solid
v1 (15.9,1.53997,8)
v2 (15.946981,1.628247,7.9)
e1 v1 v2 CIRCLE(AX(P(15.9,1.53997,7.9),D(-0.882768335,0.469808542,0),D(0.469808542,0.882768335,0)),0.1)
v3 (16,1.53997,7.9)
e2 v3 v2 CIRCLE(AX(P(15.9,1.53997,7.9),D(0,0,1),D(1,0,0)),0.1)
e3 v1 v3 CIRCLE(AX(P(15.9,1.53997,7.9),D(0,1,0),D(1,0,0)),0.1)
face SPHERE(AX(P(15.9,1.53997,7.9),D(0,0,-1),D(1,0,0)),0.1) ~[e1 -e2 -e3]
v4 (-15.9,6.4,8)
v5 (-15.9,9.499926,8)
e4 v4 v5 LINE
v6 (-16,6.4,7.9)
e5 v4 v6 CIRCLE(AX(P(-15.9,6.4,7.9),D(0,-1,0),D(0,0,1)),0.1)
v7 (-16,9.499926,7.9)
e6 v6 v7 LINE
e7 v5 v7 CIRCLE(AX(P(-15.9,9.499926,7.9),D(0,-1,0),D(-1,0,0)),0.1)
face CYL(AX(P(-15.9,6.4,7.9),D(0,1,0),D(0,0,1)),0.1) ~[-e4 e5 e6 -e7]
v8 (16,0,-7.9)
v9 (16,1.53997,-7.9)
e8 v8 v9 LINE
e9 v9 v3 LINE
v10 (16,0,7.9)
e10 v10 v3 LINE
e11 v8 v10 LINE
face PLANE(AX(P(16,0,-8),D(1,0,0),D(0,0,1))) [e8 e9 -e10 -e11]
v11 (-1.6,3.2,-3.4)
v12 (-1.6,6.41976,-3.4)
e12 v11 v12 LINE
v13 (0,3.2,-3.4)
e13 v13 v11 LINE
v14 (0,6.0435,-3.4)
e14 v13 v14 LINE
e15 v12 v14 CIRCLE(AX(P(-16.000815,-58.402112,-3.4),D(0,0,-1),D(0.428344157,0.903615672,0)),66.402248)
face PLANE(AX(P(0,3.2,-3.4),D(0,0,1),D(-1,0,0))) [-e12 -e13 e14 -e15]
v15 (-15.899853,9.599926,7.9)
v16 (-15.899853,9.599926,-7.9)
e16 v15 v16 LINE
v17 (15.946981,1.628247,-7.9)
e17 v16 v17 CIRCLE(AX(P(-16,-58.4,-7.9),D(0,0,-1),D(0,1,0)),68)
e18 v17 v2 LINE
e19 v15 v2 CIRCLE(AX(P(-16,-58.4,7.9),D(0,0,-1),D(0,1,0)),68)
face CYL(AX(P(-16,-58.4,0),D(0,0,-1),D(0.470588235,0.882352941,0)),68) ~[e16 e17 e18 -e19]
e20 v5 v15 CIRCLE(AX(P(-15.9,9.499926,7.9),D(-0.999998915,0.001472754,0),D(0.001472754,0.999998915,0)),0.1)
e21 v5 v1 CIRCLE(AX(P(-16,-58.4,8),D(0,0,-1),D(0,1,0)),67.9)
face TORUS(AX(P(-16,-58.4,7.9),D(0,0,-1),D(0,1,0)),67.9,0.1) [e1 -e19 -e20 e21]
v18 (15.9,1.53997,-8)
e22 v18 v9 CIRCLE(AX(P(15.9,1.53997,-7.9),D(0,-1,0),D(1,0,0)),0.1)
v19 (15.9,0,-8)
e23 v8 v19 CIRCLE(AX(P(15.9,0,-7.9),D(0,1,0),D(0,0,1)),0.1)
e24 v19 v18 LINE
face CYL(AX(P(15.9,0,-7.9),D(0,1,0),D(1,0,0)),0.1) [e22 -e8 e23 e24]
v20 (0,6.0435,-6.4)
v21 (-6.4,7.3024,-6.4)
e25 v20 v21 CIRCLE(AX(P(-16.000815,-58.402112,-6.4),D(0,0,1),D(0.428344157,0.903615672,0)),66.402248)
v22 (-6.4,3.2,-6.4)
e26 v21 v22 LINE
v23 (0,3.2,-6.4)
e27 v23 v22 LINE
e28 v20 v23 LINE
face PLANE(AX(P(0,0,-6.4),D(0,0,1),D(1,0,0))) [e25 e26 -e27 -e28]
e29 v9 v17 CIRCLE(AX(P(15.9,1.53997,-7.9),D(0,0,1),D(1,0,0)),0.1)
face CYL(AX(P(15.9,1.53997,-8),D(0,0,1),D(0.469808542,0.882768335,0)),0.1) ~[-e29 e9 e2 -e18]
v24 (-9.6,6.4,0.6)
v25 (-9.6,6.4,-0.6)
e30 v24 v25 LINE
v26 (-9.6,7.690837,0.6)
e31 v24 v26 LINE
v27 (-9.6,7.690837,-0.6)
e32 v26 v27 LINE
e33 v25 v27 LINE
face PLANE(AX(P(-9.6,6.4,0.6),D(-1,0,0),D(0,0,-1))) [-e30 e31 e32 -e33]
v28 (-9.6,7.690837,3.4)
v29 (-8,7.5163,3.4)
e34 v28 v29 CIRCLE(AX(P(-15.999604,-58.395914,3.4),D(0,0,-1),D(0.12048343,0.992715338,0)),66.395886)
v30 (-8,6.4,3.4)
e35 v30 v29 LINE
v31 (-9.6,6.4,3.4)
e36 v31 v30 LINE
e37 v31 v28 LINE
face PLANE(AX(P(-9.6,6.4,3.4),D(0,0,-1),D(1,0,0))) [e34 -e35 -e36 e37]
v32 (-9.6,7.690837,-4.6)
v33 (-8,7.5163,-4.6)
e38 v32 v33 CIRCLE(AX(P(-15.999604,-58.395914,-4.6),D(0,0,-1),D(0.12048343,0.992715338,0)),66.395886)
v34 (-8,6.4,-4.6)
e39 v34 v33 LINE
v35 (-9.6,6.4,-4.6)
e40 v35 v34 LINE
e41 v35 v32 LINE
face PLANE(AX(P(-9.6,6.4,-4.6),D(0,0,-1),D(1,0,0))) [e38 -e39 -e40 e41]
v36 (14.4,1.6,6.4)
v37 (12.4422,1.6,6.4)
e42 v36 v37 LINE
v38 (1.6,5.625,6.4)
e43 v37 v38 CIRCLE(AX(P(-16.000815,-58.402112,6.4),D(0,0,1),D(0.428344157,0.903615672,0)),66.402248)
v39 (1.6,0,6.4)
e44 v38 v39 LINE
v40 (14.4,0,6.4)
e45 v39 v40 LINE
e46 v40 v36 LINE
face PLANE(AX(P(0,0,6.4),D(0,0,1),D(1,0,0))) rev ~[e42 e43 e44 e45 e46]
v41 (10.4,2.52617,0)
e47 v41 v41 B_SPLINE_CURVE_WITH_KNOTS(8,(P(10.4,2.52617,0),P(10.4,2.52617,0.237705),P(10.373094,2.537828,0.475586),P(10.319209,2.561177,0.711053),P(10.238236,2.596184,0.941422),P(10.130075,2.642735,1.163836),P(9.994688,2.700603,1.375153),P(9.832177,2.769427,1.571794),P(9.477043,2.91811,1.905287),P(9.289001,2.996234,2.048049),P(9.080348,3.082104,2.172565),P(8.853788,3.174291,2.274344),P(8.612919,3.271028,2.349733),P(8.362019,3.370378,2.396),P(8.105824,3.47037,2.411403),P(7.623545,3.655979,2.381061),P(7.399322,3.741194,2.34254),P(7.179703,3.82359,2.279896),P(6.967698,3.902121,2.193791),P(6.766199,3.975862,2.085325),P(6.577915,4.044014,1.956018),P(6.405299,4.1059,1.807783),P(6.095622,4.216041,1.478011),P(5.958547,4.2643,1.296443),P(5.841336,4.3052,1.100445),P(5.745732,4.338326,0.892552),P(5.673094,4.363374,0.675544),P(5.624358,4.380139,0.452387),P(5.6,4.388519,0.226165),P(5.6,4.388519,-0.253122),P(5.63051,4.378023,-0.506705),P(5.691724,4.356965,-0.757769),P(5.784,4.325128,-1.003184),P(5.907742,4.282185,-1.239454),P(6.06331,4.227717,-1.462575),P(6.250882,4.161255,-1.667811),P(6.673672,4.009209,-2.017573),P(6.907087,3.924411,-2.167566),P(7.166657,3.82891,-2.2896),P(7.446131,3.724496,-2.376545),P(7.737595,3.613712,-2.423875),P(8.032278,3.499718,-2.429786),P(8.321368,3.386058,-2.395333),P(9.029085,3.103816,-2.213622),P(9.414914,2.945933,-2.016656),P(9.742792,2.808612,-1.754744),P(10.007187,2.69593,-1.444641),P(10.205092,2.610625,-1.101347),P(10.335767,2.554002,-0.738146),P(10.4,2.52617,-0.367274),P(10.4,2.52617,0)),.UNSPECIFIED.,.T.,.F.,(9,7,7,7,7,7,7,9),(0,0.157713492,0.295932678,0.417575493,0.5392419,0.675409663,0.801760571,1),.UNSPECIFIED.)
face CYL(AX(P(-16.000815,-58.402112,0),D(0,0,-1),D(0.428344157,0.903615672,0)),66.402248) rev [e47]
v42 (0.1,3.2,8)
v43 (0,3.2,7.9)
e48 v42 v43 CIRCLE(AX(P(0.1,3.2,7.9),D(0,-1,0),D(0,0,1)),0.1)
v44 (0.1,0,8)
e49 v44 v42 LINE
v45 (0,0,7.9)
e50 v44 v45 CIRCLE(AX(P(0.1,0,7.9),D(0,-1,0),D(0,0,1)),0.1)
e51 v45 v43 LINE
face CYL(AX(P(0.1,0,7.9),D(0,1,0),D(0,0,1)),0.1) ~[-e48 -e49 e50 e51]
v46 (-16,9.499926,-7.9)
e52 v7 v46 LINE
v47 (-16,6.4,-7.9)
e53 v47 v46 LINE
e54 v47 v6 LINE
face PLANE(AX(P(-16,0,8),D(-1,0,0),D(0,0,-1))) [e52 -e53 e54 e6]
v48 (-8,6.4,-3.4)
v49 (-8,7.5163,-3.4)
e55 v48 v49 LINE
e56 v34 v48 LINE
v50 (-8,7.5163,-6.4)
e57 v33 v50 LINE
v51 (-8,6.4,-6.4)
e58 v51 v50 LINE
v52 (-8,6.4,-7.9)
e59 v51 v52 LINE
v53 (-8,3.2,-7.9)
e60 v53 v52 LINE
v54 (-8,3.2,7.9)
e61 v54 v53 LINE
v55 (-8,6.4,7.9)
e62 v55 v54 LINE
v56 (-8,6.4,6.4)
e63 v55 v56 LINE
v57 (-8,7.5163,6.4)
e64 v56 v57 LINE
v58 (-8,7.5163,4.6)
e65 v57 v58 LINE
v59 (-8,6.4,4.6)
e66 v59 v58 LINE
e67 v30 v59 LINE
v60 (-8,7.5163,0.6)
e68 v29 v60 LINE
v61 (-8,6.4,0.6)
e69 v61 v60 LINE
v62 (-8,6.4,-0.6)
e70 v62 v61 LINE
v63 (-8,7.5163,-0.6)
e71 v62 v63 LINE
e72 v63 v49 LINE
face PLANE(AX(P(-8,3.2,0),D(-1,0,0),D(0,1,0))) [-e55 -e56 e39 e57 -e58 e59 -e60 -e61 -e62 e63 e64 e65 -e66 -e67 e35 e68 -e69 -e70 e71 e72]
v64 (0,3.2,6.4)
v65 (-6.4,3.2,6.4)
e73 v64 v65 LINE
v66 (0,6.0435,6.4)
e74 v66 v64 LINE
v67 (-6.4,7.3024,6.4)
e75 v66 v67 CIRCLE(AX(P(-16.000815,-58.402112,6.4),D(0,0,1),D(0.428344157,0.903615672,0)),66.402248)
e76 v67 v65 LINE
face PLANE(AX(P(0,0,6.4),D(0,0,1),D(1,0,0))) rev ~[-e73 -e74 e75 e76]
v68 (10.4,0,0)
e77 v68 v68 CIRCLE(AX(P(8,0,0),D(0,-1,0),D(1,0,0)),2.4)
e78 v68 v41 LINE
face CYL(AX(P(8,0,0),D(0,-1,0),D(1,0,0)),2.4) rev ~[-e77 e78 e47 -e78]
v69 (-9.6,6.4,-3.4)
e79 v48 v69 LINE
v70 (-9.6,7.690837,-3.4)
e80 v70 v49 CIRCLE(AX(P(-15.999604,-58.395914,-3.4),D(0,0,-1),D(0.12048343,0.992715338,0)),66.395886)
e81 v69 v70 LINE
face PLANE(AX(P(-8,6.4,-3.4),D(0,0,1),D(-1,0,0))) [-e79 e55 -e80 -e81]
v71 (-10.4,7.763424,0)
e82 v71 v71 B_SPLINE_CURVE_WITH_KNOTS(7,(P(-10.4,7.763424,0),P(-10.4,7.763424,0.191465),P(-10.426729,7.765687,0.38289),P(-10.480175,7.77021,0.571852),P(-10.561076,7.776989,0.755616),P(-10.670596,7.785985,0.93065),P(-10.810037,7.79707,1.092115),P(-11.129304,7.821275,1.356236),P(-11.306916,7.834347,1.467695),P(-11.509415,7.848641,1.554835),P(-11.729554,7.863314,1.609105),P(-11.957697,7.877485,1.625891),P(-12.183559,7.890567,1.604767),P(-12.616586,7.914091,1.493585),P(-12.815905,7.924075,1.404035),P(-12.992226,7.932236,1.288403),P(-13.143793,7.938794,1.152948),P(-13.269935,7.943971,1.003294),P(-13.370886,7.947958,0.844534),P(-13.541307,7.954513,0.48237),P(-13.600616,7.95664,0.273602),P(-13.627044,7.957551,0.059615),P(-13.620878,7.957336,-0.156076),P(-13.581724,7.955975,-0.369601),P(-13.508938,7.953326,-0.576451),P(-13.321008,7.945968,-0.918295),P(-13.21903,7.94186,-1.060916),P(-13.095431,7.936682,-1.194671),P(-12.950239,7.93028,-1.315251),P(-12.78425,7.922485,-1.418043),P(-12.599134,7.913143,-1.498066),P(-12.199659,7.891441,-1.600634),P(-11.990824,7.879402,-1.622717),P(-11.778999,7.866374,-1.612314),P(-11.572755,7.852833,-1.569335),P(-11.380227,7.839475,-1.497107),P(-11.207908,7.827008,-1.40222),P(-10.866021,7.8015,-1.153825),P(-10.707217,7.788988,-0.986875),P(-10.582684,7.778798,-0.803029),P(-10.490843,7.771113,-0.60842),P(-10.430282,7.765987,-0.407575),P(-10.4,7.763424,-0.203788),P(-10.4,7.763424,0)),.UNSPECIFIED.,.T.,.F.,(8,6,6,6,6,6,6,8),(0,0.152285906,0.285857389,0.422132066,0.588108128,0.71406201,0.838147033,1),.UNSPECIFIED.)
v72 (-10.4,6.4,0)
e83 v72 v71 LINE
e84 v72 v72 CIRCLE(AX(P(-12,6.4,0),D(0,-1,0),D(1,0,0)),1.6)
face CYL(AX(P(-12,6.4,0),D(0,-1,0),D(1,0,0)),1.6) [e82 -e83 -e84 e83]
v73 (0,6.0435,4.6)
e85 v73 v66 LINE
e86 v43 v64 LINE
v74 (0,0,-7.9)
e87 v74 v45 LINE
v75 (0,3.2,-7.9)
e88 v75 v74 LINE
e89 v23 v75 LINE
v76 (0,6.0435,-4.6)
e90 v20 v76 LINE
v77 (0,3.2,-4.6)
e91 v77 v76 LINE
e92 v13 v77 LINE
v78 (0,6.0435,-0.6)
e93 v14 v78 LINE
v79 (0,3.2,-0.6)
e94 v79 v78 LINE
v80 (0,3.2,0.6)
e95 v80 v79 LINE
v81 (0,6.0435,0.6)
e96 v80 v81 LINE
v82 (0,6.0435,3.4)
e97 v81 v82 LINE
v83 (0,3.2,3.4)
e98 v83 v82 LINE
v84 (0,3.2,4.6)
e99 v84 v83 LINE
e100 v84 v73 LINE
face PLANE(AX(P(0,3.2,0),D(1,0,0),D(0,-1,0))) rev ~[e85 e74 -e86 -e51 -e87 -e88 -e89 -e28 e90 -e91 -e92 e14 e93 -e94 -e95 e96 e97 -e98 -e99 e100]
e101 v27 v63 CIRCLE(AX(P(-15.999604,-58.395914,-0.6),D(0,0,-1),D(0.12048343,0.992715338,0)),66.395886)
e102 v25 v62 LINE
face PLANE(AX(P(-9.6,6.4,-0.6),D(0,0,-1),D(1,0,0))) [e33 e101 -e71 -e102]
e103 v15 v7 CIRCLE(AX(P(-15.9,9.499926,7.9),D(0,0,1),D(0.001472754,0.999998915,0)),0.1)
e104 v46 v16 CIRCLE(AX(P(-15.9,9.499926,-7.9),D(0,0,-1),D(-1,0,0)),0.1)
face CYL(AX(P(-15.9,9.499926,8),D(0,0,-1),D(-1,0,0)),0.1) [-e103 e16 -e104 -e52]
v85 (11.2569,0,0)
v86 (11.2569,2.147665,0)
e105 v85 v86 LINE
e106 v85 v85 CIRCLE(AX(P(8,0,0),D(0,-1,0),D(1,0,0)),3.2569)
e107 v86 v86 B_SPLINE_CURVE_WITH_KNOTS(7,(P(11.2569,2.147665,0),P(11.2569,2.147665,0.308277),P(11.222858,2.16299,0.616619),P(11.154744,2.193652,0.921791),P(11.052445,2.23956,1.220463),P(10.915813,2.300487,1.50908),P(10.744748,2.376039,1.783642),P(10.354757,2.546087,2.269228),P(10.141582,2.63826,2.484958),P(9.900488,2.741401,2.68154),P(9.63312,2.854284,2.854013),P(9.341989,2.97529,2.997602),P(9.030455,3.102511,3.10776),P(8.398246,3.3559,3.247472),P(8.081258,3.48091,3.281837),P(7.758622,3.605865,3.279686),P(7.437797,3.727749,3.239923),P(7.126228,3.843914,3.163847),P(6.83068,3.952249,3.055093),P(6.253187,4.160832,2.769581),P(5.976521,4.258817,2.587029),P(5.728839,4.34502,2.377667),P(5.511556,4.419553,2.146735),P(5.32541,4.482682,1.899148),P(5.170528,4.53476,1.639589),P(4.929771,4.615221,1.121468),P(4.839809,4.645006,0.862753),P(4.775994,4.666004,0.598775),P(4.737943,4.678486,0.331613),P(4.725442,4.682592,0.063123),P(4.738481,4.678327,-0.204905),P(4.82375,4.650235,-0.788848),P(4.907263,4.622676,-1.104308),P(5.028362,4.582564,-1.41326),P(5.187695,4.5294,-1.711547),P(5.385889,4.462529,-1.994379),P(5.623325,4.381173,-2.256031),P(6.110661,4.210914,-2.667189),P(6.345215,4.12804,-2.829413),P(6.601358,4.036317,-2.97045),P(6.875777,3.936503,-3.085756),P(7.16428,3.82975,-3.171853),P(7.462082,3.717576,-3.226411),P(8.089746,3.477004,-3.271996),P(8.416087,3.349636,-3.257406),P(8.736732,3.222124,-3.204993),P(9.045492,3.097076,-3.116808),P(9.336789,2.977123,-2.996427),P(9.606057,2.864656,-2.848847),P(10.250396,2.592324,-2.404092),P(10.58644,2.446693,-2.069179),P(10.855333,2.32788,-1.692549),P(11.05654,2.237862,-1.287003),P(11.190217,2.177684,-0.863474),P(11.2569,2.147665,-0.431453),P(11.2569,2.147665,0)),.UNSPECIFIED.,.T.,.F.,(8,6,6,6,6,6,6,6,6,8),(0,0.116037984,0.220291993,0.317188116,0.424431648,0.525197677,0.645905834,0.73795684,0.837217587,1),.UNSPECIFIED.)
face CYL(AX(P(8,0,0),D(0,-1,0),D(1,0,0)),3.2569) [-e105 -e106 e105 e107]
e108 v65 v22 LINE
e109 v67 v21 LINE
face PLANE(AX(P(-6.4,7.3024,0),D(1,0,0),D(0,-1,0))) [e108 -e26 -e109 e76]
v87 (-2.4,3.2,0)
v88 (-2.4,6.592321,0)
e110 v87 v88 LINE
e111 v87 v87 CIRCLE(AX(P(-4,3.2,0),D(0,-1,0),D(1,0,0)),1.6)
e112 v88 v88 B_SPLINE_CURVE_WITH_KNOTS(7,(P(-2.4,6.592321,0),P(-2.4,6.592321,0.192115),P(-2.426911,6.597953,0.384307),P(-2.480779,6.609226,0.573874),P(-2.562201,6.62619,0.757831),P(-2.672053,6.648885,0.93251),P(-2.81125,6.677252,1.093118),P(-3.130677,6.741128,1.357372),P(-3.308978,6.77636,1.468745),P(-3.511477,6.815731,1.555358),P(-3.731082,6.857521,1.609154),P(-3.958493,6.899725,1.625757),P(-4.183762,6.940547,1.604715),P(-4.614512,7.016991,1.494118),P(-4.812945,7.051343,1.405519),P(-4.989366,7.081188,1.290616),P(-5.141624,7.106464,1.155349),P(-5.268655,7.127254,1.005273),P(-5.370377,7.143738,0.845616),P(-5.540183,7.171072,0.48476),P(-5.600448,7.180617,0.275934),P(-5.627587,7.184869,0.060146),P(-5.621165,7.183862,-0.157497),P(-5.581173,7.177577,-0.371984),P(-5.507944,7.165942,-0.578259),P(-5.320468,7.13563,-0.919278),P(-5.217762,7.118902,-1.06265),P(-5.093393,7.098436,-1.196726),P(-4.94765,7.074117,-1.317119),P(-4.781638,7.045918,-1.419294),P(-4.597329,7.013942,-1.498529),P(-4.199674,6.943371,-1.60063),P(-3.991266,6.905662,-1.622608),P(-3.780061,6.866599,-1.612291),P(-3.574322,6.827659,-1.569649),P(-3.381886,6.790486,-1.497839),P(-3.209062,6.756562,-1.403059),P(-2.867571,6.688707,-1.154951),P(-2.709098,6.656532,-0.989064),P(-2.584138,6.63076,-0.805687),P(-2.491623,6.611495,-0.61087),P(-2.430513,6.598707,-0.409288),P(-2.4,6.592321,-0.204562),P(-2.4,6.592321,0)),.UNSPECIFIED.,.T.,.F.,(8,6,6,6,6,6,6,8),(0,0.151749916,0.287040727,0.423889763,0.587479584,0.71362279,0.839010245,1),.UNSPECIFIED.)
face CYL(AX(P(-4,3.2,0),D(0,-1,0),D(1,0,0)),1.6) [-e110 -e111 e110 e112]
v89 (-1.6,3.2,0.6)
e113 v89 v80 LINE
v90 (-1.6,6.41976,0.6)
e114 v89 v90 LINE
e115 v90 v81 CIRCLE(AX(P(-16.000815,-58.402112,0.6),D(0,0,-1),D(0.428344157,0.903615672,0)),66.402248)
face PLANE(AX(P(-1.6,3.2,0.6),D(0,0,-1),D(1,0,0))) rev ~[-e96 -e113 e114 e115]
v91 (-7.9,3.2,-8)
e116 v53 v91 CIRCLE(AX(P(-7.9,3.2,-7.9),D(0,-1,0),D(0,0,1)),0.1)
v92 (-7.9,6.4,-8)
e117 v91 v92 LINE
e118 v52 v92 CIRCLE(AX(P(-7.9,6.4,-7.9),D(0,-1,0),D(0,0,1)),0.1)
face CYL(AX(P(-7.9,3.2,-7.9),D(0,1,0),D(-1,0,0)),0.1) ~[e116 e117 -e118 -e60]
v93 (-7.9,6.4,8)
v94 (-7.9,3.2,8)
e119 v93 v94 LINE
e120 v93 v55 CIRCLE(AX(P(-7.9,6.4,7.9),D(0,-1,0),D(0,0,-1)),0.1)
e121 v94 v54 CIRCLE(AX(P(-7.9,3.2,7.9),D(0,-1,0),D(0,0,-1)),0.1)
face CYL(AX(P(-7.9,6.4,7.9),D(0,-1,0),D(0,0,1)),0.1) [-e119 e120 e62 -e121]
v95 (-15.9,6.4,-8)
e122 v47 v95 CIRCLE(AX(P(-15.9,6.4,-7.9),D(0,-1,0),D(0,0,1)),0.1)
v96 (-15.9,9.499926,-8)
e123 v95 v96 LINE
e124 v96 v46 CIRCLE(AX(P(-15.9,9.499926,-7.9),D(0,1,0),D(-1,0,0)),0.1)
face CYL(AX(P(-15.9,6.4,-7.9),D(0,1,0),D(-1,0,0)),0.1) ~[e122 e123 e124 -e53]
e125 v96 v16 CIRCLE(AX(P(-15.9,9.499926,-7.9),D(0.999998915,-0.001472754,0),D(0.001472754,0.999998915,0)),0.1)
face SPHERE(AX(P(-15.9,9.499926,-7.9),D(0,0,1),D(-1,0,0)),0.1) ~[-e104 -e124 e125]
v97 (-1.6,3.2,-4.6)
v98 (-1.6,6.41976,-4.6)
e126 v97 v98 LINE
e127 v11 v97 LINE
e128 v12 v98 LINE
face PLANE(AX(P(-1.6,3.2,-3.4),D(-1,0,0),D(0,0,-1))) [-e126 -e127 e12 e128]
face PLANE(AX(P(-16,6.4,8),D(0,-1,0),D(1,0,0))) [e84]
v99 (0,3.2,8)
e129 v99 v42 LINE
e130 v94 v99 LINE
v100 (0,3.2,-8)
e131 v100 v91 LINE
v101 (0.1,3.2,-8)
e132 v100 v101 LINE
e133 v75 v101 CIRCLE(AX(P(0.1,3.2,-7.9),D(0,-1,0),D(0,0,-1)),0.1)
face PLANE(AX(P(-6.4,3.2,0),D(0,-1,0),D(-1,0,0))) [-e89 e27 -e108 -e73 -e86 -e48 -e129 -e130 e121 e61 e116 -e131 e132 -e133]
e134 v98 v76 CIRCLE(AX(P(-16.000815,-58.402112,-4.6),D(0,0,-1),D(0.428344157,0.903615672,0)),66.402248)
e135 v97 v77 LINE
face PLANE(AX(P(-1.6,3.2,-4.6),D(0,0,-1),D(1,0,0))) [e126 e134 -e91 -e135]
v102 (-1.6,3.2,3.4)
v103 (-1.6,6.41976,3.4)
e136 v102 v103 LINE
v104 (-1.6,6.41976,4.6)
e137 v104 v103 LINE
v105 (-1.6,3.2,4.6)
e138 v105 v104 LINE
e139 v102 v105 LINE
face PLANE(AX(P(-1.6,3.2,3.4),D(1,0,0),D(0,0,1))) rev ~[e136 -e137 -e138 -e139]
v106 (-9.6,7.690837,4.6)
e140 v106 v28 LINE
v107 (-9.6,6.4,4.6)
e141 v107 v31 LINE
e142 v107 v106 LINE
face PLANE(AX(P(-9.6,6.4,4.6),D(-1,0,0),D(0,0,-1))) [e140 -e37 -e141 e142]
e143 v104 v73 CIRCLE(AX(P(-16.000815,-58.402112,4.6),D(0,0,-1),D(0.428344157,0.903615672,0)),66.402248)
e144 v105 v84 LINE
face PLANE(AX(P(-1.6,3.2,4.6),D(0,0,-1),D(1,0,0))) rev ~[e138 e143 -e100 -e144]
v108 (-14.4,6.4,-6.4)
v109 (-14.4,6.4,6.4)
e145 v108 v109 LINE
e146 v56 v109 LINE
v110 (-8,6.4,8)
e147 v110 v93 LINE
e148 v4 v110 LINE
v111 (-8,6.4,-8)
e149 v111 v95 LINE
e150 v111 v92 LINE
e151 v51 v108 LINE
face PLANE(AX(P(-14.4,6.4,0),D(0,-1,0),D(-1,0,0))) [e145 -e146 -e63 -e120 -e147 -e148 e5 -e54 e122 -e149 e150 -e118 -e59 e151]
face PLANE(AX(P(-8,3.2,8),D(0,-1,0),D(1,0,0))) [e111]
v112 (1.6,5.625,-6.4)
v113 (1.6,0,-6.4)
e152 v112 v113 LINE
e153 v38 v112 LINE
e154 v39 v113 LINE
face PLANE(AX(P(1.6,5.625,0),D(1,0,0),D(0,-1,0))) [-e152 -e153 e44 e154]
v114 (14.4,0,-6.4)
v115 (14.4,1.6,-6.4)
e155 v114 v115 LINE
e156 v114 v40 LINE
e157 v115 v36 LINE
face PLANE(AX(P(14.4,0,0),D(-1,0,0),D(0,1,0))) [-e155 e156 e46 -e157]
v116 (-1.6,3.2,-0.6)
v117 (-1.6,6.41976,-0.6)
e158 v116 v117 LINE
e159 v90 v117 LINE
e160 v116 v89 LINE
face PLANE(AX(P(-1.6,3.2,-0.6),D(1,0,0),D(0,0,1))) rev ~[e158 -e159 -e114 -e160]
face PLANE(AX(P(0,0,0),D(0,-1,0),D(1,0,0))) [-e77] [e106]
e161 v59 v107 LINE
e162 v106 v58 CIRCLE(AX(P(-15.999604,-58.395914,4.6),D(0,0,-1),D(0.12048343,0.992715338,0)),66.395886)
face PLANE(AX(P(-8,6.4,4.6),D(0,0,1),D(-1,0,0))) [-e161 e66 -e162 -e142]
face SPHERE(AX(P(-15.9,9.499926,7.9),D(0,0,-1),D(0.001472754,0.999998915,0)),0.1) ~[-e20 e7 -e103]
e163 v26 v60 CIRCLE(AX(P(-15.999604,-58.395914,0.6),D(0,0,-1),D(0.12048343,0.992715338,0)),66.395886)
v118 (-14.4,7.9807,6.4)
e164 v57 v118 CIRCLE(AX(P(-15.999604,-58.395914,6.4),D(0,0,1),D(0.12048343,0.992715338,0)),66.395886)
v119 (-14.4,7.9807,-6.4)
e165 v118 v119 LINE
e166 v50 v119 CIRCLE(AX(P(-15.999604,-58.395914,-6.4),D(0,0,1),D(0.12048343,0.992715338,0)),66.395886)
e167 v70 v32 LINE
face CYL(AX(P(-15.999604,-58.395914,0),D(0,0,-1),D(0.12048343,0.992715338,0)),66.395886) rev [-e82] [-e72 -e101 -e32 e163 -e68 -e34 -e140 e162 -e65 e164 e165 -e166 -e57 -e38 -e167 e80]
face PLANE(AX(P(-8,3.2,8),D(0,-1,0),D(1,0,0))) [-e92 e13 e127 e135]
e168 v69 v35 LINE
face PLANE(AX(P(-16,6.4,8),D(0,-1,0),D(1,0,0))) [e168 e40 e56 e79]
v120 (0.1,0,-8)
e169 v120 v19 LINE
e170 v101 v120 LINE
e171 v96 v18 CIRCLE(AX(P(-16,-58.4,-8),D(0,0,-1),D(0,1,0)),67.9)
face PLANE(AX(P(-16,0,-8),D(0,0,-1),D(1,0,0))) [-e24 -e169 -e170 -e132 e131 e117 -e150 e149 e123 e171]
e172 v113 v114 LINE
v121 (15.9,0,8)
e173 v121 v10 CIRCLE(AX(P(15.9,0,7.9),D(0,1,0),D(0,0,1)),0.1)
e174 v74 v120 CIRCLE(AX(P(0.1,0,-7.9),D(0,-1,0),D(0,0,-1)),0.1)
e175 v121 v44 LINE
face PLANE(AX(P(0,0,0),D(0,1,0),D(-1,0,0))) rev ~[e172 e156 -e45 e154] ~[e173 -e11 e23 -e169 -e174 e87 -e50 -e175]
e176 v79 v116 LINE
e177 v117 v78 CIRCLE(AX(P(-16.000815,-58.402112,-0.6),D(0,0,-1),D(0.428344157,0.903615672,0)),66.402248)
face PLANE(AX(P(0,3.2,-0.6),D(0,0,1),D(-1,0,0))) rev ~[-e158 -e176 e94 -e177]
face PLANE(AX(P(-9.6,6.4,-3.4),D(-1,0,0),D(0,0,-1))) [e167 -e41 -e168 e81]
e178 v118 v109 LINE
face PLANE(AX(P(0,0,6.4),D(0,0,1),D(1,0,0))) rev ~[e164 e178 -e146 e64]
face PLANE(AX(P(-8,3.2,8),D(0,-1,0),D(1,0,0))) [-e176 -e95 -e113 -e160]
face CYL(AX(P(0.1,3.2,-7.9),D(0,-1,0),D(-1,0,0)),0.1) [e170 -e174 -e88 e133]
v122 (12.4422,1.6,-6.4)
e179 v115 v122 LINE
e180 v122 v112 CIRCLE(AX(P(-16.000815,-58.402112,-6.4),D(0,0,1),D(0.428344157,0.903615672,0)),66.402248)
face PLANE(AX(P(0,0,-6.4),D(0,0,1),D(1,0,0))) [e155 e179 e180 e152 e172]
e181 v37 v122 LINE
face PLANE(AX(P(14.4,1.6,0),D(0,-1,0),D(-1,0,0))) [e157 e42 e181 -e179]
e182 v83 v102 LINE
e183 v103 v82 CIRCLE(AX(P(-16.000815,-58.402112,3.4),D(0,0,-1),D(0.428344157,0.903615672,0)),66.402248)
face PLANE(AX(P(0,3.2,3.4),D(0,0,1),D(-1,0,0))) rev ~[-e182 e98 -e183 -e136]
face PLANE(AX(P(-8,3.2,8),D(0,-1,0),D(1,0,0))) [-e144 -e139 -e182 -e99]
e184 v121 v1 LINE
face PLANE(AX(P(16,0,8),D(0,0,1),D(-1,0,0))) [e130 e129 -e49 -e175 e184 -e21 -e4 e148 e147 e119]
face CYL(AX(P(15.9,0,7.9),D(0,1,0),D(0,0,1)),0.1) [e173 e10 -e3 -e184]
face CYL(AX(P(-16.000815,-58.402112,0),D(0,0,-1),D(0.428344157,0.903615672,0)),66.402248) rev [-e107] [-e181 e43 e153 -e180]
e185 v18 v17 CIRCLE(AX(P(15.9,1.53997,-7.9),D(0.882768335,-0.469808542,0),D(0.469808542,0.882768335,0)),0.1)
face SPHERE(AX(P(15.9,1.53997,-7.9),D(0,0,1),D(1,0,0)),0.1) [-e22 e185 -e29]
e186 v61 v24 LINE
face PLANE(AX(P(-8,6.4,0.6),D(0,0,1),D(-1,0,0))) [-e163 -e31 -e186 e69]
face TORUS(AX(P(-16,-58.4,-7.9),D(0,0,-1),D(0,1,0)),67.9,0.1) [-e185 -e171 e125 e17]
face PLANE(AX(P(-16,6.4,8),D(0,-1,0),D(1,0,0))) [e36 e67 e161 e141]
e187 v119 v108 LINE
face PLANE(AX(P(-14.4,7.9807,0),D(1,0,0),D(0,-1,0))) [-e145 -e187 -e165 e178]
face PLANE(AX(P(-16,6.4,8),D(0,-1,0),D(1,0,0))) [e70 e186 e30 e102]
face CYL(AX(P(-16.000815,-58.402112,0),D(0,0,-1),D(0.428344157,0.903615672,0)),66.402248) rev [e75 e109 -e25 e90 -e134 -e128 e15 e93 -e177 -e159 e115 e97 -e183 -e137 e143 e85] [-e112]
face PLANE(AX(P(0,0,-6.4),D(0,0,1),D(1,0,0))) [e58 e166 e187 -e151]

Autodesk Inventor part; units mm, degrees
ref_plane "YZ Plane" through (0, 0, 0) normal (1, 0, 0) x (0, 1, 0)
ref_plane "XZ Plane" through (0, 0, 0) normal (0, 1, 0) x (-1, 0, 0)
ref_plane "XY Plane" through (0, 0, 0) normal (0, 0, 1) x (1, 0, 0)
sketch "Sketch2" plane through (0, 0, 0) normal (0, 1, 0) x (-1, 0, 0)
  line L0 (-16, 8) -> (16, 8)
  line L1 (16, 8) -> (16, -8)
  line L2 (16, -8) -> (-16, -8)
  line L3 (-16, -8) -> (-16, 8)
  point P0 (0, 0)
  point P1 (0, 8)
  point P2 (-16, 0)
  dimension "d0" = 32
  dimension "d1" = 16
extrude "Extrusion1" add sketch "Sketch2" along normal blind 9.6
sketch "Sketch10" plane through (0, 0, 0) normal (0, 0, 1) x (1, 0, 0)
  line L0 (-16, 9.6) -> (16, 9.6) projected
  line L1 (-16, 0) -> (-16, 9.6) projected
  arc A0 (16, 1.6) -> (-16, 9.6) centre (-16, -58.4) ccw
  line L2 (16, 1.6) -> (16, 9.6)
  line L3 (-16, 0) -> (16, 0) projected
  line L4 (14.4, 0) -> (14.4, 1.6)
  line L5 (14.4, 1.6) -> (12.4422, 1.6)
  line L6 (-8, 3.2) -> (-8, 7.5163)
  line L7 (-6.4, 7.3024) -> (-6.4, 3.2)
  arc A1 (12.4422, 1.6) -> (-6.4, 7.3024) centre (-16, -58.4) ccw
  arc A2 (-8, 7.5163) -> (-14.4, 7.9807) centre (-16, -58.4) ccw
  line L8 (-14.4, 7.9807) -> (-14.4, 6.4)
  line L9 (1.6, 5.625) -> (1.6, 0)
  line L10 (0, 6.0435) -> (0, 0)
  line L11 (0, 3.2) -> (-6.4, 3.2)
  line L12 (-8, 6.4) -> (-14.4, 6.4)
  line L13 (-14.4, 6.4) -> (-16, 6.4)
  line L14 (16, 0) -> (16, 9.6) projected
  line L15 (1.6, 0) -> (14.4, 0)
  line L16 (0, 0) -> (-16, 0)
  line L17 (-16, 0) -> (-16, 6.4)
  line L18 (-6.4, 3.2) -> (-8, 3.2)
  dimension "d100" = 1.6
  dimension "d104" = 1.6
  dimension "d105" = 1.6
  dimension "d107" = 1.6
  dimension "d108" = 1.6
  dimension "d113" = 6.4
  dimension "d114" = 3.2
  dimension "d115" = 16
  dimension "d116" = 1.6
extrude "Extrusion7" cut sketch "Sketch10" along normal through all both and the other way through all contours L0 L2 A0 | L13 L12 L6 L18 L11 L10 L3 L1
extrude "Extrusion8" cut sketch "Sketch10" along normal mid plane 12.8 contours L8 A2 L6 L12 | L3 L9 A1 L5 L4 | L11 L7 A1 L10
sketch "Sketch3" plane through (0, 0, 0) normal (0, -1, 0) x (1, 0, 0)
  circle A0 centre (12, 4) radius 2.4 construction
  line L0 (14.4, -6.4) -> (1.6, -6.4) projected
  line L1 (1.6, -6.4) -> (1.6, 6.4) projected
  line L2 (1.6, 6.4) -> (14.4, 6.4) projected
  line L3 (14.4, 6.4) -> (14.4, -6.4) projected
  circle A1 centre (8, 0) radius 3.2569
  circle A2 centre (8, 0) radius 2.4
  circle A3 centre (12, -4) radius 2.4 construction
  point P0 (8, 6.4)
  point P1 (1.6, 0)
  dimension "d97" = 4.8
extrude "Extrusion2" add sketch "Sketch3" against normal up to next contours A1
sketch "Sketch11" plane through (-8, 3.2, 8) normal (0, -1, 0) x (1, 0, 0)
  line L0 (8, -1.6) -> (8, 0) projected
  line L1 (8, -14.4) -> (1.6, -14.4) projected
  line L2 (1.6, -14.4) -> (1.6, -1.6) projected
  circle A0 centre (4, -12) radius 2.4 construction
  line L3 (8, -11.4) -> (6.4, -11.4)
  line L4 (6.4, -11.4) -> (6.4, -12.6)
  line L5 (6.4, -12.6) -> (8, -12.6)
  line L6 (8, -11.4) -> (8, -12.6)
  line L7 (1.6, -1.6) -> (8, -1.6) projected
  circle A1 centre (4, -4) radius 2.4 construction
  line L8 (8, -4.6) -> (6.4, -4.6)
  line L9 (6.4, -4.6) -> (6.4, -3.4)
  line L10 (6.4, -3.4) -> (8, -3.4)
  line L11 (8, -3.4) -> (8, -4.6)
  circle A2 centre (4, -8) radius 1.6
  line L12 (6.4, -7.4) -> (8, -7.4)
  line L13 (8, -7.4) -> (8, -8.6)
  line L14 (8, -8.6) -> (6.4, -8.6)
  line L15 (6.4, -8.6) -> (6.4, -7.4)
  point P0 (8, -8)
  point P1 (6.4, -12)
  point P2 (6.4, -4)
  point P3 (6.4, -8)
  dimension "d119" = 1.2
  dimension "d129" = 4.8
extrude "Extrusion9" add sketch "Sketch11" against normal up to next
sketch "Sketch12" plane through (-16, 6.4, 8) normal (0, -1, 0) x (1, 0, 0)
  line L0 (1.6, -1.6) -> (8, -1.6) projected
  line L1 (8, -14.4) -> (1.6, -14.4) projected
  line L2 (1.6, -14.4) -> (1.6, -1.6) projected
  line L3 (8, -3.4) -> (6.4, -3.4)
  line L4 (6.4, -3.4) -> (6.4, -4.6)
  line L5 (6.4, -4.6) -> (8, -4.6)
  line L6 (8, -4.6) -> (8, -3.4)
  circle A0 centre (4, -4) radius 2.4 construction
  circle A1 centre (4, -12) radius 2.4 construction
  line L7 (8, -11.4) -> (6.4, -11.4)
  line L8 (6.4, -11.4) -> (6.4, -12.6)
  line L9 (6.4, -12.6) -> (8, -12.6)
  line L10 (8, -12.6) -> (8, -11.4)
  line L11 (8, -7.4) -> (6.4, -7.4)
  line L12 (6.4, -7.4) -> (6.4, -8.6)
  line L13 (6.4, -8.6) -> (8, -8.6)
  line L14 (8, -8.6) -> (8, -7.4)
  circle A2 centre (4, -8) radius 1.6
  point P0 (16, -8)
  point P1 (6.4, -4)
  point P2 (6.4, -12)
  point P3 (6.4, -8)
  dimension "d122" = 1.2
  dimension "d130" = 4.8
extrude "Extrusion10" add sketch "Sketch12" against normal up to next
fillet "Fillet1" radius 0.1 12 edges at (-16, 8, 8) (-16, 9.6, 0) (16, 0.8, 8) (16, 0.8, -8) (-16, 8, -8) (0.4924, 7.5697, 8) (0.4924, 7.5697, -8) (16, 1.6, 0) (-8, 4.8, 8) (0, 1.6, 8) (0, 1.6, -8) (-8, 4.8, -8)
equation "\"d4\" = lh"
equation "\"d100\" = wall"
equation "\"d104\" = wall"
equation "\"d105\" = 0.333333 * lh - topthk"
equation "\"d107\" = topthk"
equation "\"d108\" = d104"
equation "\"d113\" = 0.666667 * lh"
equation "\"d114\" = 0.333333 * lh"
equation "\"d115\" = 2 * lu"
equation "\"d116\" = wall"
equation "\"d109\" = 2 * lu - 2 * wall"
equation "\"d97\" = kd"
equation "\"d129\" = kd"
equation "\"lh\" = 9.6"
equation "\"wall\" = 1.6"
equation "\"topthk\" = 1.6"
equation "\"lu\" = 8"
equation "\"kd\" = 4.8"
properties part number "93606-Black" material "ABS Plastic"
